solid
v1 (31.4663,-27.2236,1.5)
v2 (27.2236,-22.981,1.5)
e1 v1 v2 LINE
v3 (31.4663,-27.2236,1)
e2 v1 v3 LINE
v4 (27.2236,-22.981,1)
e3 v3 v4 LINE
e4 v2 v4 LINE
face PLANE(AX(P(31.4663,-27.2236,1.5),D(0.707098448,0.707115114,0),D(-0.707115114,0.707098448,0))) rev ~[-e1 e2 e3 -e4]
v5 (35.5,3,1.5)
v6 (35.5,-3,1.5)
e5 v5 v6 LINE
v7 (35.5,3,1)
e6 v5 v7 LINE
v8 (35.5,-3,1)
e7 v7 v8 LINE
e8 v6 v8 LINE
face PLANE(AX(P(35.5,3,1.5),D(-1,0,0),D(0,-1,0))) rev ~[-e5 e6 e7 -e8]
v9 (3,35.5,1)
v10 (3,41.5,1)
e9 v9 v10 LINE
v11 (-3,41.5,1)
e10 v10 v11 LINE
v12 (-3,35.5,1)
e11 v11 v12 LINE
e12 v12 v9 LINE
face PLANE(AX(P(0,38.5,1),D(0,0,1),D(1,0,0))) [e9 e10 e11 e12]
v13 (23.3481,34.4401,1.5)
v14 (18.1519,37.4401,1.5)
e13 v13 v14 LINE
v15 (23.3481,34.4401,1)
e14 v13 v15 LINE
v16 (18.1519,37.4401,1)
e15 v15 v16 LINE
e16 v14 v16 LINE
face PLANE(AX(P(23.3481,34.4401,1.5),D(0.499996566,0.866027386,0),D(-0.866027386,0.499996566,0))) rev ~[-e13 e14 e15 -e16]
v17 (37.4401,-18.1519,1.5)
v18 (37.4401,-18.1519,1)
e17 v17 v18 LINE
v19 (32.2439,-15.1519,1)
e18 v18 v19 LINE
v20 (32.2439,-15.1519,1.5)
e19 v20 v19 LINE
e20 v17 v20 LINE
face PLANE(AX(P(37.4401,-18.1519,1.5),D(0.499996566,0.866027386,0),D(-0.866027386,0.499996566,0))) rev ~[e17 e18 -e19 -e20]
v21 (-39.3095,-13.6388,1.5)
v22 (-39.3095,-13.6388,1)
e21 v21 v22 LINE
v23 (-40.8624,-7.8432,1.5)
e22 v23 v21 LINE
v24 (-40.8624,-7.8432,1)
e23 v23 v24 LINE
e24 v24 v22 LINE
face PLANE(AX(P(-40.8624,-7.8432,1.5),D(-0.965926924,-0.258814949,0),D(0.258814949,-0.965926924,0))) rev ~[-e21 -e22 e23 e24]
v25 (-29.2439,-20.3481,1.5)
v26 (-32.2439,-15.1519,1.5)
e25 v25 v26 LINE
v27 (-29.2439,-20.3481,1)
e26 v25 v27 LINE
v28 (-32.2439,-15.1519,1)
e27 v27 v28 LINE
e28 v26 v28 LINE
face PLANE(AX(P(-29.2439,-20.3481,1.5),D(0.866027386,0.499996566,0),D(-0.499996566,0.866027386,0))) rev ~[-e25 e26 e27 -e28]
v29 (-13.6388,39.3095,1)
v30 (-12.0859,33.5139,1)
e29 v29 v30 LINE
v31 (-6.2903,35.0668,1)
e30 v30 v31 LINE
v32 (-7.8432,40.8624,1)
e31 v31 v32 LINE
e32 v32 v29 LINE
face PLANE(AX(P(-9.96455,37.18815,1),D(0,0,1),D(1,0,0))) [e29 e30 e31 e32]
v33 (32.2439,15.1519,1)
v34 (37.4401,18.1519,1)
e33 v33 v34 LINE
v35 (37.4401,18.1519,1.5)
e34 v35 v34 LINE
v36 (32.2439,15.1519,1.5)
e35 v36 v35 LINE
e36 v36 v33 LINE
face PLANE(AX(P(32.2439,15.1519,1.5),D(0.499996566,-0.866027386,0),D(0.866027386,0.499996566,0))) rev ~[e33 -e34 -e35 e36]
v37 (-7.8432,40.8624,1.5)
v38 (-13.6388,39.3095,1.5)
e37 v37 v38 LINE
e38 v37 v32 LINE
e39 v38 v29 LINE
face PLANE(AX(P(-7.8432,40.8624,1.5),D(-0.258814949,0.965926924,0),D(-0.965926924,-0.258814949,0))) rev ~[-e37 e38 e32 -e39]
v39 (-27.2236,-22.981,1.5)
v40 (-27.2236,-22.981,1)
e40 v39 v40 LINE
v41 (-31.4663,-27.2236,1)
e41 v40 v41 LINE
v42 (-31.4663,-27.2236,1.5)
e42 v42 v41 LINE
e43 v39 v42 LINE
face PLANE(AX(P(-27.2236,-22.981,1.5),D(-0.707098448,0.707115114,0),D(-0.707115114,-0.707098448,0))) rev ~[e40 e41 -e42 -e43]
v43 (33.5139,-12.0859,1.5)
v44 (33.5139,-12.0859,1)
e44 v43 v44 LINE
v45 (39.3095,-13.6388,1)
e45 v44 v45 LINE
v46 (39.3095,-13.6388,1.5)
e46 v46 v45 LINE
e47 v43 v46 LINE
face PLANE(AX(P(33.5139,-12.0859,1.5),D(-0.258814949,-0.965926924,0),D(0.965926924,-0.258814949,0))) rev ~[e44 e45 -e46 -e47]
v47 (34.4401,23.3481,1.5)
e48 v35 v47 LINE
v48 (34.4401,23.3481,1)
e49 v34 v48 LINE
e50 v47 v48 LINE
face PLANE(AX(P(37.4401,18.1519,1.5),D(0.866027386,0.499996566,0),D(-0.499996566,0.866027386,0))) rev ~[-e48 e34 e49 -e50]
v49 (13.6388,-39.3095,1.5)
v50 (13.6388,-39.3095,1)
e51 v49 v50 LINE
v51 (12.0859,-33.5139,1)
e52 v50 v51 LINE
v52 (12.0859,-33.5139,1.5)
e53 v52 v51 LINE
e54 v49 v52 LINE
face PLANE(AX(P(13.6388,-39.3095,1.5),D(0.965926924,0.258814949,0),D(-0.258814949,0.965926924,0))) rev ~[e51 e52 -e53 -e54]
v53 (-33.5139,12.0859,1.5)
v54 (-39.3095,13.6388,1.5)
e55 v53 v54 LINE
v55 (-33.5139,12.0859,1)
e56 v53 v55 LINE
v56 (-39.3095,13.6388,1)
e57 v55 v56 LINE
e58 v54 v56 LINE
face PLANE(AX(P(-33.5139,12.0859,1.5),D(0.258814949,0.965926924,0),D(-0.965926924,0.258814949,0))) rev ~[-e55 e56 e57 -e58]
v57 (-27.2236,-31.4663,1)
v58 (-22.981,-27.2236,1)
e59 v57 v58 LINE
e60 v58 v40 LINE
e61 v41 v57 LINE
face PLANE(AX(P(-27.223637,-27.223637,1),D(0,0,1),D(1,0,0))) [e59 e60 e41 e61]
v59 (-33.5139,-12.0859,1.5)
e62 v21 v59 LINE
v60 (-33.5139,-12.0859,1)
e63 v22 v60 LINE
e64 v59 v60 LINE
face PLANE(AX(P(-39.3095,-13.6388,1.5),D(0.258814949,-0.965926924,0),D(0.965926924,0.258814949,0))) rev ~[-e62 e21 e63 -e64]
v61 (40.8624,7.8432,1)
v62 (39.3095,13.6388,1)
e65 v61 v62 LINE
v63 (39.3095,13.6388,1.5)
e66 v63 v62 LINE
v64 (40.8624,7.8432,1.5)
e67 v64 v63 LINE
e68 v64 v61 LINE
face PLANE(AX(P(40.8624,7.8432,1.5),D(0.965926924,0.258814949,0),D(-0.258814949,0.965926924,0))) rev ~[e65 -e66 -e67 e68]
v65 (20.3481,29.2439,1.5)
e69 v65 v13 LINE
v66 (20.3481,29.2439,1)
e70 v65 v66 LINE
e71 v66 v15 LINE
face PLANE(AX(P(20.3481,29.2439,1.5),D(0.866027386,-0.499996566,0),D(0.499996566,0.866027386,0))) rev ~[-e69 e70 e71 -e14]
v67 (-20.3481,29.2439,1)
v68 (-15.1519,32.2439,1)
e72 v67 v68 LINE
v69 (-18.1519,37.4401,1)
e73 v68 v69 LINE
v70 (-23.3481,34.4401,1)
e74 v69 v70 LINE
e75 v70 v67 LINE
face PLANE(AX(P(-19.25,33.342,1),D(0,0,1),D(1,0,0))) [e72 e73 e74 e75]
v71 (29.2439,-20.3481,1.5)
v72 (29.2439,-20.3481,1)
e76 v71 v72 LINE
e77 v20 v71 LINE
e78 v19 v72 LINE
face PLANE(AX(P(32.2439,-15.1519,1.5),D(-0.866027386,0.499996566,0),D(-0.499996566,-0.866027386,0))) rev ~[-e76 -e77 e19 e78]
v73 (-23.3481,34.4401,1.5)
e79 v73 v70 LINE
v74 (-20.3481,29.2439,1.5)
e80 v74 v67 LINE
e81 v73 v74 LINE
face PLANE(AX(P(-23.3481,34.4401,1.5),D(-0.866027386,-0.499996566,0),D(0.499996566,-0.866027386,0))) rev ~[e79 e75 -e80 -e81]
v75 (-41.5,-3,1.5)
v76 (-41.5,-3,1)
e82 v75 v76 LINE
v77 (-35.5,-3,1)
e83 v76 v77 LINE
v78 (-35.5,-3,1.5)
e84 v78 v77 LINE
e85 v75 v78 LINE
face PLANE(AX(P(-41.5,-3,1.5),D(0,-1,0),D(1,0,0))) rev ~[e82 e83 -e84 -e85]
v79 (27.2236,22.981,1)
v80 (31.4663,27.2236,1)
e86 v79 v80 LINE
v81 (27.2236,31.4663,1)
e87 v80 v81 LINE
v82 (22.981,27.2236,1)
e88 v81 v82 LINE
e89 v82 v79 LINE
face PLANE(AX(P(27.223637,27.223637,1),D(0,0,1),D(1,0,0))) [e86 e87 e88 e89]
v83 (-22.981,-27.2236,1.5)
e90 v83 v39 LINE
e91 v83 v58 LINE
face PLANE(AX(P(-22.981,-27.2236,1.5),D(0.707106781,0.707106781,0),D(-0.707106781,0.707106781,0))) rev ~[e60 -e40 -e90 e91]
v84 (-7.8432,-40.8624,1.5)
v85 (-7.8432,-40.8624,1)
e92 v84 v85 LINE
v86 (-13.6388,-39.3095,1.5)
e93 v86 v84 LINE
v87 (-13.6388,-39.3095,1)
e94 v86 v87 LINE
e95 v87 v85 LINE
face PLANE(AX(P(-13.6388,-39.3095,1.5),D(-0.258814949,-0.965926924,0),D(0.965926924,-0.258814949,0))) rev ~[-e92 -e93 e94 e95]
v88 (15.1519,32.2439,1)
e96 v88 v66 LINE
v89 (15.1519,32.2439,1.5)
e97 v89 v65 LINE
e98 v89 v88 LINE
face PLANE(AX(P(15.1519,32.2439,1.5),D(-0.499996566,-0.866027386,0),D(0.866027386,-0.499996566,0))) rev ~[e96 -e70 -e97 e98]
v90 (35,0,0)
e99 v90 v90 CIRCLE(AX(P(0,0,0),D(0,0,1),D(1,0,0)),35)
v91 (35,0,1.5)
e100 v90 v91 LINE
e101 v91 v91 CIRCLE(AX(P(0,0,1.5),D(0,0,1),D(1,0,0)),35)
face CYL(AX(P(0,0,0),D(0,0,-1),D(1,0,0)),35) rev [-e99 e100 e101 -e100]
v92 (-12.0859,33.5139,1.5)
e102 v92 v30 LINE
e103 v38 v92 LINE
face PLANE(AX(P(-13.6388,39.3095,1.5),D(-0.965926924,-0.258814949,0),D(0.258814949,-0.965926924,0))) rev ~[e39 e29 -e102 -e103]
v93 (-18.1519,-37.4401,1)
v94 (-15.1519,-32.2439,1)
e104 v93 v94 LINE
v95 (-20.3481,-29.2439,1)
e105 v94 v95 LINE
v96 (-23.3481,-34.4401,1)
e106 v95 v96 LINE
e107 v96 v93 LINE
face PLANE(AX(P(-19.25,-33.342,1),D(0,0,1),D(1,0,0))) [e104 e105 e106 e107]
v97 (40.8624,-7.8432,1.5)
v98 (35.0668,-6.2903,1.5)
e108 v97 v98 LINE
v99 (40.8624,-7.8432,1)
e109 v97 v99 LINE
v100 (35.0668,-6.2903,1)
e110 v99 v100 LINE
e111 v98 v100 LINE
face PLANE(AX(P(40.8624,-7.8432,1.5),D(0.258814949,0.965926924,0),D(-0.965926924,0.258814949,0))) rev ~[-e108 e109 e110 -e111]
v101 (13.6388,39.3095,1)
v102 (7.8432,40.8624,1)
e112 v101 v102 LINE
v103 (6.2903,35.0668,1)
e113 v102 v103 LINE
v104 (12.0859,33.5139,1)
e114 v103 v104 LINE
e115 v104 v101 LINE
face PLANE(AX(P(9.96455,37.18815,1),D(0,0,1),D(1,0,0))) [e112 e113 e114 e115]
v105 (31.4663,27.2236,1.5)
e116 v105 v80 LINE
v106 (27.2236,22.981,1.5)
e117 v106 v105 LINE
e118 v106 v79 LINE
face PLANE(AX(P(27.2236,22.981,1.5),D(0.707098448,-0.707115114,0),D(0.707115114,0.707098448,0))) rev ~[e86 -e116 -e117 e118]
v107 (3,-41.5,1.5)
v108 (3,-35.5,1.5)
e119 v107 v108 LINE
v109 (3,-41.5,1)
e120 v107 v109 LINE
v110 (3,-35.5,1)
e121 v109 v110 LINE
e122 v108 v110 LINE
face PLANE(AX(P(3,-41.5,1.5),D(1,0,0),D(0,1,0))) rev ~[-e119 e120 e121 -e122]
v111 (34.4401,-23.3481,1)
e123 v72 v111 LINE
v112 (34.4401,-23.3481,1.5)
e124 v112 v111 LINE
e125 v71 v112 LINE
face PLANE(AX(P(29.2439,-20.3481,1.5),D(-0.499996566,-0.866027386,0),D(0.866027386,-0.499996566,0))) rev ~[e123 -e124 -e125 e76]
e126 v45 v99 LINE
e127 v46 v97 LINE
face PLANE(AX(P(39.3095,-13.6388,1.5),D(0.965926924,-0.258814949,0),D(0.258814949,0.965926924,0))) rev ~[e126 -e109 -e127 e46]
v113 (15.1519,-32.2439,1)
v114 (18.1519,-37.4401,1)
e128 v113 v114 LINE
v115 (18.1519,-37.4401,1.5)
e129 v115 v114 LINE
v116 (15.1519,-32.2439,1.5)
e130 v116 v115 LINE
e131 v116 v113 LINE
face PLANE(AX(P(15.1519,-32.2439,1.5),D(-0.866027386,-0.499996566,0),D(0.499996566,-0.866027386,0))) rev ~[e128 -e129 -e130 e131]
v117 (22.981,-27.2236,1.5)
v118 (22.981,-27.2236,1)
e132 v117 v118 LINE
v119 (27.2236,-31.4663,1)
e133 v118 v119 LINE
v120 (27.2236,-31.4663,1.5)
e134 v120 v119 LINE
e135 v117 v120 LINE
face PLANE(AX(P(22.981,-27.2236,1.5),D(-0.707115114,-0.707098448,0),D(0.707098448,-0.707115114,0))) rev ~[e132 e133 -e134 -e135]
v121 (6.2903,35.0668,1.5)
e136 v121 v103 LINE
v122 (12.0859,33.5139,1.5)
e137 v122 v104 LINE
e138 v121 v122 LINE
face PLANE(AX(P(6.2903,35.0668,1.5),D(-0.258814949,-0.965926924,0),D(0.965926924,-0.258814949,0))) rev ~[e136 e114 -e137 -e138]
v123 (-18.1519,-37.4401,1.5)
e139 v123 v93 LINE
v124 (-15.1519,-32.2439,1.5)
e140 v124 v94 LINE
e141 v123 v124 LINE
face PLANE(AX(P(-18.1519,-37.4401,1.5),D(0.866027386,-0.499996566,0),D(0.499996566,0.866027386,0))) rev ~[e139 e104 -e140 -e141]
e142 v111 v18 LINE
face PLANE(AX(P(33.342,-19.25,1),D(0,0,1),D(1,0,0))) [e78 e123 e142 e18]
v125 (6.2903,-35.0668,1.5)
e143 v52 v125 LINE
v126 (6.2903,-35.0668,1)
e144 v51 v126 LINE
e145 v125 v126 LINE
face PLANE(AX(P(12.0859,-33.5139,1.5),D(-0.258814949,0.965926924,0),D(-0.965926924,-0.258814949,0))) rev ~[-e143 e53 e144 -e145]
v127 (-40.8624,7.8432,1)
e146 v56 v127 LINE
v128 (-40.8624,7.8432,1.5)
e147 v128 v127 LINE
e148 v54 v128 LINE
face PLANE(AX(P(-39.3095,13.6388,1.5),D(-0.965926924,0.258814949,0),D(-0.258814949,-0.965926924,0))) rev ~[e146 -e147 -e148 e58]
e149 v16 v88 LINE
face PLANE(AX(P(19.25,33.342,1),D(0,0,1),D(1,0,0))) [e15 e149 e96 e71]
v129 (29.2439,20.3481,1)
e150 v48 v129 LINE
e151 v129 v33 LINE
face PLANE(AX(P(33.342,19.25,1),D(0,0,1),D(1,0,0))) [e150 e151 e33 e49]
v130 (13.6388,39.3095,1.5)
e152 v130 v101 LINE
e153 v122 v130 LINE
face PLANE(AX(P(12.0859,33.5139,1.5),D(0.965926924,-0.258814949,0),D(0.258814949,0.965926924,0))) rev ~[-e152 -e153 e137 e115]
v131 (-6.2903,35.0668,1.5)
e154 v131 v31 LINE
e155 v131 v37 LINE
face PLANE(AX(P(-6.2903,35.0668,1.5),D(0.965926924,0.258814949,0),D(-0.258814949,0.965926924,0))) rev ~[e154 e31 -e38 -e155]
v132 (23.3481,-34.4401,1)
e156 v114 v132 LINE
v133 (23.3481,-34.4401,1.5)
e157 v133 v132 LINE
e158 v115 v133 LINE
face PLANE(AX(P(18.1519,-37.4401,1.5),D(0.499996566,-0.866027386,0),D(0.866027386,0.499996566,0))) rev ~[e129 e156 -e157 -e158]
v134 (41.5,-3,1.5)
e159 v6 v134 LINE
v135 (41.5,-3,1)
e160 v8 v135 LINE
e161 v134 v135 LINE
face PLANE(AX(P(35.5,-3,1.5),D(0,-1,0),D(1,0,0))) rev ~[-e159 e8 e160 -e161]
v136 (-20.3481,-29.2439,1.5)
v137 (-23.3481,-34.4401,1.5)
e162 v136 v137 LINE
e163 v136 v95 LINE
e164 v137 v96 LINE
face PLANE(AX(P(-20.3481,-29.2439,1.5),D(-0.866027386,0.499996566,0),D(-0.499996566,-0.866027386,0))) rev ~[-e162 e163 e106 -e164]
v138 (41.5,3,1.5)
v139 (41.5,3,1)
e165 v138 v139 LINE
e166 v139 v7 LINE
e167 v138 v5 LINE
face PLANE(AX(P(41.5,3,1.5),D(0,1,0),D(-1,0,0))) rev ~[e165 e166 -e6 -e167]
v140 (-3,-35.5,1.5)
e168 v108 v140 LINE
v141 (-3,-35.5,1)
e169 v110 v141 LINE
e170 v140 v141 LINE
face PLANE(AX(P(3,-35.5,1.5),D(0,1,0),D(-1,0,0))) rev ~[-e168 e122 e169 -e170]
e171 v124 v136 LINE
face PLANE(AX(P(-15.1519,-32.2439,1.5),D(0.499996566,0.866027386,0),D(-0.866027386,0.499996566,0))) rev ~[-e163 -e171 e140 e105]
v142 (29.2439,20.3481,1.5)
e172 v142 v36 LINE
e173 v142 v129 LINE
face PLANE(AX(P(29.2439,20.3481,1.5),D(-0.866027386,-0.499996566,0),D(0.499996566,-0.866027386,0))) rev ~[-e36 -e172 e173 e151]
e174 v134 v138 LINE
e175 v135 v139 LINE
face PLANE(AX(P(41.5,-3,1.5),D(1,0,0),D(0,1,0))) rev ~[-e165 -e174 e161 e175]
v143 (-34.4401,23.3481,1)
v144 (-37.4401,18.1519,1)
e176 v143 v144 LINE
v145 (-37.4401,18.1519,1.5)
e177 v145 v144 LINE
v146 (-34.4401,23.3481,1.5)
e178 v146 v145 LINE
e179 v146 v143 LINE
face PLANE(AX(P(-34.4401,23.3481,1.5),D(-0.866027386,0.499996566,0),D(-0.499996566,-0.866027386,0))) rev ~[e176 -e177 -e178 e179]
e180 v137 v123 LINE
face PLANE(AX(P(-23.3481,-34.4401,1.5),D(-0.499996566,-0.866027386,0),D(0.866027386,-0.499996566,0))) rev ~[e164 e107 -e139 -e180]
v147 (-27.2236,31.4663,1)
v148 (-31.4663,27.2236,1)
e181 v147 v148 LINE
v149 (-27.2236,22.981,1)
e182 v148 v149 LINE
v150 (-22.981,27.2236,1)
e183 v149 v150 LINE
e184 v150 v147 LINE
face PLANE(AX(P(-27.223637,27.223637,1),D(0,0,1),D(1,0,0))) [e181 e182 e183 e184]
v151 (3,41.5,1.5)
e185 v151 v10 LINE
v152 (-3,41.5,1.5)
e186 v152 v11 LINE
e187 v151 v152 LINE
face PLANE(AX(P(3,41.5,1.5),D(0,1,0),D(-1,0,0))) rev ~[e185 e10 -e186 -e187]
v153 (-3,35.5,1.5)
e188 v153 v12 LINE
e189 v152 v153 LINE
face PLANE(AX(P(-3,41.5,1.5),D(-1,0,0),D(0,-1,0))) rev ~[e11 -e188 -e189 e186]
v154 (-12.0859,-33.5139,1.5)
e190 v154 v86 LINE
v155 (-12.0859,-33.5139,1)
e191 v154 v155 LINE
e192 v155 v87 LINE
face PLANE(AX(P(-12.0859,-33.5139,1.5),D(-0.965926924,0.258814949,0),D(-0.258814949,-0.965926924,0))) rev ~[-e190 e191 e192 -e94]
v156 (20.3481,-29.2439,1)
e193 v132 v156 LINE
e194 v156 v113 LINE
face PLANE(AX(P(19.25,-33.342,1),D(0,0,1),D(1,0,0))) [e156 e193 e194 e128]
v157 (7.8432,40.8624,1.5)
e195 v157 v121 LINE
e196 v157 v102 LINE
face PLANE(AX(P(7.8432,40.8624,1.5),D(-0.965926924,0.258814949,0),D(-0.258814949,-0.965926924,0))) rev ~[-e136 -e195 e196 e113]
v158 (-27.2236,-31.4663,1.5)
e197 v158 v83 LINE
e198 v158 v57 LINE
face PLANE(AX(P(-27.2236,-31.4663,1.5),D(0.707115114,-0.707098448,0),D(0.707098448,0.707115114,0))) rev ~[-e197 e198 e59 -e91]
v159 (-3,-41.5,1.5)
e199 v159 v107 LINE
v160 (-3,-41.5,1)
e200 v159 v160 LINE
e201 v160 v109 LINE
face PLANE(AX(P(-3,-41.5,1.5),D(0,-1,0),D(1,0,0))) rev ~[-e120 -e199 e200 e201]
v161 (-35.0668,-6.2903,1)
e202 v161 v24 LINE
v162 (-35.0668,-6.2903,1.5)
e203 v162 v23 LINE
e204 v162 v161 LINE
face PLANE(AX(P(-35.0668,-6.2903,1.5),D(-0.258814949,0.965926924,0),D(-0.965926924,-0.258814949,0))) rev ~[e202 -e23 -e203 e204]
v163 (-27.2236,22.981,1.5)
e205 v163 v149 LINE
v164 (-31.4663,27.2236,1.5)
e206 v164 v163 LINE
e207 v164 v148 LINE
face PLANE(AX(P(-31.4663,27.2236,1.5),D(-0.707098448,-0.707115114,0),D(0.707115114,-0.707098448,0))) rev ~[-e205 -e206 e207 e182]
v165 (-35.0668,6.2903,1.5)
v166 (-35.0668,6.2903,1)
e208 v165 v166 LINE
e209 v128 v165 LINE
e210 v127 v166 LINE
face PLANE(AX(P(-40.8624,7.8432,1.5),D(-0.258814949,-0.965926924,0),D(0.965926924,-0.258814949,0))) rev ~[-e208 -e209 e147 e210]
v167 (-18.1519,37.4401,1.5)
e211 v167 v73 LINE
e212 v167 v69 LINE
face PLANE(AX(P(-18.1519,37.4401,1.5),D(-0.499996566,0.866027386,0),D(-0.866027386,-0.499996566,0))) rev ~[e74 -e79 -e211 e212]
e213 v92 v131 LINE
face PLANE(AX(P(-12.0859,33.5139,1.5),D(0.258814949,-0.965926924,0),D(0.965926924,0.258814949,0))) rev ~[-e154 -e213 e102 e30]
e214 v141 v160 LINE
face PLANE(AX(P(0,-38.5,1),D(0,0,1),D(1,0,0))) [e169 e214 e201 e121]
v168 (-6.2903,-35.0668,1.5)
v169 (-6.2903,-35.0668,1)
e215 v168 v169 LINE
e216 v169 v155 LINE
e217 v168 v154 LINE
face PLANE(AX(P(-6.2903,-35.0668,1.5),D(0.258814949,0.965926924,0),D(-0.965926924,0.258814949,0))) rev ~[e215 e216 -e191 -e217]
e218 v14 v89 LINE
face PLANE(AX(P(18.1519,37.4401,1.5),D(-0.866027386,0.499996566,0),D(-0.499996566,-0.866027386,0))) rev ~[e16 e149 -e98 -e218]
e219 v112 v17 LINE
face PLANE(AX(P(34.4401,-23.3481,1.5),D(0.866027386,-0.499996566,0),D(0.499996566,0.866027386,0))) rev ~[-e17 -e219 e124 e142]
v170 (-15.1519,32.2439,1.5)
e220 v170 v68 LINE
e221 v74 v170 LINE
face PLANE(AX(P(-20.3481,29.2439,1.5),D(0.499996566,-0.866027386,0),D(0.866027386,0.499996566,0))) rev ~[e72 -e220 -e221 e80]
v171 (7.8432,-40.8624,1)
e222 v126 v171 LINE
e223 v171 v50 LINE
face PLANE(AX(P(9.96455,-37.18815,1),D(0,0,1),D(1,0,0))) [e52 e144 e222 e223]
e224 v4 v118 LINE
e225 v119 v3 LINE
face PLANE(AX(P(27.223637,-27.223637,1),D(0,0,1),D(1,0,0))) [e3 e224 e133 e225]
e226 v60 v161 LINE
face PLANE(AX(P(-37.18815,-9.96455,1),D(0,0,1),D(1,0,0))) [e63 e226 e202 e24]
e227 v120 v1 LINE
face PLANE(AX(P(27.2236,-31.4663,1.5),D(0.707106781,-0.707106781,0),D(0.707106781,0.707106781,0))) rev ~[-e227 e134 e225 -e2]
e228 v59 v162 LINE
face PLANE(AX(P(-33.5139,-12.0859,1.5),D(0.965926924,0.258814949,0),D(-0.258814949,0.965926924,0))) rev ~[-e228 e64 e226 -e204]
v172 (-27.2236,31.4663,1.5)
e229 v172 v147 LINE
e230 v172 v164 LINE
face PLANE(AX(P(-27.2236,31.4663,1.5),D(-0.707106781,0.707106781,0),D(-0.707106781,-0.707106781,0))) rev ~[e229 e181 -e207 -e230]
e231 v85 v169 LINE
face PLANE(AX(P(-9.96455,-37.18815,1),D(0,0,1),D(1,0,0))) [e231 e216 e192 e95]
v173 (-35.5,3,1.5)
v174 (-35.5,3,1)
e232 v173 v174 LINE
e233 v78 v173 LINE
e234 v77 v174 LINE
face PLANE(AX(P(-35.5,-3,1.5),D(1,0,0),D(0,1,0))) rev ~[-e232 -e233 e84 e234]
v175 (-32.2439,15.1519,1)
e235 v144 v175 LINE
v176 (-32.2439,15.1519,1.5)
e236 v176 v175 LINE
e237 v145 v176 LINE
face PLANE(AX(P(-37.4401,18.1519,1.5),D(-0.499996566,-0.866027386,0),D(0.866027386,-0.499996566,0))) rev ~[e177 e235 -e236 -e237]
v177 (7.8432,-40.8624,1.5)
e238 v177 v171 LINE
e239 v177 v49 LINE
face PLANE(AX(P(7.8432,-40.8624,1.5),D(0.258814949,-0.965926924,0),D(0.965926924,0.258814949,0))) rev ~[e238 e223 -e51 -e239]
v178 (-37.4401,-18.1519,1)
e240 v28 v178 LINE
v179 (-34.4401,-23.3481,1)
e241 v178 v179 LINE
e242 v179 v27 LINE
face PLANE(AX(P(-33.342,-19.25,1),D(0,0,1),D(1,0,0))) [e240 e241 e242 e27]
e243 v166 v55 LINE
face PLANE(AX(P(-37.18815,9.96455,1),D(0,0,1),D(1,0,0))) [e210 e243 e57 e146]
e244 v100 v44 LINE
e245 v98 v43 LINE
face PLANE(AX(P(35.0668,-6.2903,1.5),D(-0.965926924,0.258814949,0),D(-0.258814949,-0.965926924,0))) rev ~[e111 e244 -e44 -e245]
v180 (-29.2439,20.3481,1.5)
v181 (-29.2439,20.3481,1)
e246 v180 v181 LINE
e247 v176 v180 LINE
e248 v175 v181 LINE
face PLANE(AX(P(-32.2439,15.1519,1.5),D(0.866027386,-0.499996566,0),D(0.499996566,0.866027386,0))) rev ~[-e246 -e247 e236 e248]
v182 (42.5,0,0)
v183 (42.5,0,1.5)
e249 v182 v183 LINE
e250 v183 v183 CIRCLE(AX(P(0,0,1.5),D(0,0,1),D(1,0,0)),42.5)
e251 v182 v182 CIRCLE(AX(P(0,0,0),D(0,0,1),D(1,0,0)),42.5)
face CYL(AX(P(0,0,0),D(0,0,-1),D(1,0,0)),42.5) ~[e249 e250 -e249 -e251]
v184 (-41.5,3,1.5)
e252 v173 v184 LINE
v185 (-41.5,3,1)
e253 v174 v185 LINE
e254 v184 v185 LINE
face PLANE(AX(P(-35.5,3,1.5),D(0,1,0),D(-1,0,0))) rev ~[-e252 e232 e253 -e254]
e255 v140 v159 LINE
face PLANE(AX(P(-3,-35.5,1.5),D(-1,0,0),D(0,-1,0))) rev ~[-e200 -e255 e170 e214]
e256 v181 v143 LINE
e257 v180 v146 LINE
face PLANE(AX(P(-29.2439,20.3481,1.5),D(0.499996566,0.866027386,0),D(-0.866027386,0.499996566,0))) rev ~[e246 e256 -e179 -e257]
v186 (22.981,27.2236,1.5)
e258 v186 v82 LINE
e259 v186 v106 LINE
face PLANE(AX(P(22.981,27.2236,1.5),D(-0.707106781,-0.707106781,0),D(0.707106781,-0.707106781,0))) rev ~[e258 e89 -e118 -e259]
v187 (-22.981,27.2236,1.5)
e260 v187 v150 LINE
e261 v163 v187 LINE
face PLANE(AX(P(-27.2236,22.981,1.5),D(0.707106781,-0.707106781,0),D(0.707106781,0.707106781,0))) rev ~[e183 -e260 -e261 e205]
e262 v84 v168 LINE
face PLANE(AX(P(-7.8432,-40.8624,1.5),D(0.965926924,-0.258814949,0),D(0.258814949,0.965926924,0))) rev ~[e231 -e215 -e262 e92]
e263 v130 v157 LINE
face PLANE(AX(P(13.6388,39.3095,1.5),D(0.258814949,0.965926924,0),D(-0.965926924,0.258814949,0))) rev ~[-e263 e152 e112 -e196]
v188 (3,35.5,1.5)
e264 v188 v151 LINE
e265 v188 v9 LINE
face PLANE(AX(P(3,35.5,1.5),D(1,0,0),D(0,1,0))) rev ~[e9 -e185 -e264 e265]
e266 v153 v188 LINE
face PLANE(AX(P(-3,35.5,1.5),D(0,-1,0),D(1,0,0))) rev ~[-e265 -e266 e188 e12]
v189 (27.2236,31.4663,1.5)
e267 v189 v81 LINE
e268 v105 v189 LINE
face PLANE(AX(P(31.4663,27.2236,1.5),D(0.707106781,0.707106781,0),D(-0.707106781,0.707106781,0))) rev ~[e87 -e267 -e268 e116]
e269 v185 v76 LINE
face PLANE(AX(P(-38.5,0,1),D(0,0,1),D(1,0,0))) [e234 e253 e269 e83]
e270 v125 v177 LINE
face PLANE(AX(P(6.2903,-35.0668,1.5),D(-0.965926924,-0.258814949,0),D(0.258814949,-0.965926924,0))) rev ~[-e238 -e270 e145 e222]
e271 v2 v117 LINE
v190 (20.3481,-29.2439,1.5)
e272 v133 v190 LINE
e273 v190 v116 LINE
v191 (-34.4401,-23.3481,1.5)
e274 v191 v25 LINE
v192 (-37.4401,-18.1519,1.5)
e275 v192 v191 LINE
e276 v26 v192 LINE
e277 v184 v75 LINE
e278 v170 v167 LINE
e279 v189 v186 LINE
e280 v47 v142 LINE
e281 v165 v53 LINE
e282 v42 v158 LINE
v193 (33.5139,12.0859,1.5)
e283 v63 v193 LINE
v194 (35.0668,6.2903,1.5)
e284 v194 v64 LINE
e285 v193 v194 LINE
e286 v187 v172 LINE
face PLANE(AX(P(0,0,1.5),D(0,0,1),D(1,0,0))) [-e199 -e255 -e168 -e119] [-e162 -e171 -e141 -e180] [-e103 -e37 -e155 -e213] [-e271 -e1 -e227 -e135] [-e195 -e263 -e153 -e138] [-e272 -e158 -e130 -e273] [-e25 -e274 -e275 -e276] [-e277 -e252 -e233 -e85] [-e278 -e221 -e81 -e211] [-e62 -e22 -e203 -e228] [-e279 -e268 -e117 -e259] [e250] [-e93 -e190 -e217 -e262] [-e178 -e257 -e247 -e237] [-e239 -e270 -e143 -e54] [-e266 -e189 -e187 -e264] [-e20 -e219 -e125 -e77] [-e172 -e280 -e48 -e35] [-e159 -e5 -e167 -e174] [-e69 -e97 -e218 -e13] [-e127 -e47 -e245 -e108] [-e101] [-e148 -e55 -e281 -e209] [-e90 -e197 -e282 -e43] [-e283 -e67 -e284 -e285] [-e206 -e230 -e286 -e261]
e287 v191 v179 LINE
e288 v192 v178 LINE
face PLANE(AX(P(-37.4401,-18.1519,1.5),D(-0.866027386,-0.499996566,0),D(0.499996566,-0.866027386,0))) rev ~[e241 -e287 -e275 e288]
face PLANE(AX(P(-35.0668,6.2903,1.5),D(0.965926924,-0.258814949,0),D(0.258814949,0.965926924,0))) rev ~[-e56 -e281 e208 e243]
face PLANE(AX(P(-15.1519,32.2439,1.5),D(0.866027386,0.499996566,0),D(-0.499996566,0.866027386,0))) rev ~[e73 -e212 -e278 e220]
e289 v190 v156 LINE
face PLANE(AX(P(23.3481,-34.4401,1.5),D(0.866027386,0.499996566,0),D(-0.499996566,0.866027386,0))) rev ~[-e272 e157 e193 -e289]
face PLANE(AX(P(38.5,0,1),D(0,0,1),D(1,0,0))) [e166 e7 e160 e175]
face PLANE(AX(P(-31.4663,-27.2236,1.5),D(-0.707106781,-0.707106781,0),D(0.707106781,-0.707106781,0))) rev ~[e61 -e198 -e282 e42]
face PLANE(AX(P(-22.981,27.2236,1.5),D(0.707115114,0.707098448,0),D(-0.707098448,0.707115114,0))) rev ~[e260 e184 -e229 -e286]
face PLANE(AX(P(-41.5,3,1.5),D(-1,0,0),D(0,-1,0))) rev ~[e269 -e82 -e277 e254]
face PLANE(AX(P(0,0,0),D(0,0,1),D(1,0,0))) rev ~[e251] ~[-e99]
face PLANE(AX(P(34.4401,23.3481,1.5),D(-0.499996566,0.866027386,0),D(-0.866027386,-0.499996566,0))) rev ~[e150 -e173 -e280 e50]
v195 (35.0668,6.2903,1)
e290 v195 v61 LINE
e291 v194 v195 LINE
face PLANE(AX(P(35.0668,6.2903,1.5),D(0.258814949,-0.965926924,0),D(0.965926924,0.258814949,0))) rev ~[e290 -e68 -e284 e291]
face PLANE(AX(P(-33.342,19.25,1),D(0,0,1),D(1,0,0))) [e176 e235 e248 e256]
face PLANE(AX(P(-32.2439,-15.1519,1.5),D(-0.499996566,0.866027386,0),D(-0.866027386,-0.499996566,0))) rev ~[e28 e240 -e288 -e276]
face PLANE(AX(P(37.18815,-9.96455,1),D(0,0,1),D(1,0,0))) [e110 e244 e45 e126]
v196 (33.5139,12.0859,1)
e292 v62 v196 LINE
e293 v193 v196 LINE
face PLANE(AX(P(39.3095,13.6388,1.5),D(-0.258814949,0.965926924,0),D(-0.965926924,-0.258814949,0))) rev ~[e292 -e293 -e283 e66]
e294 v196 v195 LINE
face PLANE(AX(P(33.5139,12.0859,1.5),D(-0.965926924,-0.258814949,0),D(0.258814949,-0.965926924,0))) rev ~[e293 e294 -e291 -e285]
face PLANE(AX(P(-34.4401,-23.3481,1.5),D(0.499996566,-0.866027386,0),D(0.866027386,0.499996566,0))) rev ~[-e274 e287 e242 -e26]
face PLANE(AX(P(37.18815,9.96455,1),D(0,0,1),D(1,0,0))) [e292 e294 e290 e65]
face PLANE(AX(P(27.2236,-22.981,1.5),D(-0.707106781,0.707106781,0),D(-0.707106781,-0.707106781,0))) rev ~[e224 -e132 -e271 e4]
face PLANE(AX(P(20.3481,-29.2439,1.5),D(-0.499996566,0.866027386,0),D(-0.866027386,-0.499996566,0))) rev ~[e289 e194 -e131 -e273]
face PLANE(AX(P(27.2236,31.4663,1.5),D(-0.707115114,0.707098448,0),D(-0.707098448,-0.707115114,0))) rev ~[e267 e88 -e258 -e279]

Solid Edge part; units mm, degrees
sketch "Sketch1" plane through (0, 0, 0) normal (0, 0, 1) x (1, 0, 0)
  circle A0 centre (0, 0) radius 42.5
  circle A1 centre (0, 0) radius 35
extrude "Protrusion1" add sketch "Sketch1" along normal blind 1.5
sketch "Sketch2" plane through (0, 0, 1.5) normal (0, 0, 1) x (1, 0, 0)
  line L0 (-33.5139, 12.0859) -> (-39.3095, 13.6388)
  line L1 (-39.3095, 13.6388) -> (-40.8624, 7.8432)
  line L2 (-40.8624, 7.8432) -> (-35.0668, 6.2903)
  line L3 (-35.0668, 6.2903) -> (-33.5139, 12.0859)
  line L4 (-37.4401, 18.1519) -> (-32.2439, 15.1519)
  line L5 (-32.2439, 15.1519) -> (-29.2439, 20.3481)
  line L6 (-29.2439, 20.3481) -> (-34.4401, 23.3481)
  line L7 (-34.4401, 23.3481) -> (-37.4401, 18.1519)
  line L8 (-27.2236, 22.981) -> (-22.981, 27.2236)
  line L9 (-22.981, 27.2236) -> (-27.2236, 31.4663)
  line L10 (-27.2236, 31.4663) -> (-31.4663, 27.2236)
  line L11 (-31.4663, 27.2236) -> (-27.2236, 22.981)
  line L12 (-23.3481, 34.4401) -> (-20.3481, 29.2439)
  line L13 (-20.3481, 29.2439) -> (-15.1519, 32.2439)
  line L14 (-15.1519, 32.2439) -> (-18.1519, 37.4401)
  line L15 (-18.1519, 37.4401) -> (-23.3481, 34.4401)
  line L16 (-12.0859, 33.5139) -> (-6.2903, 35.0668)
  line L17 (-6.2903, 35.0668) -> (-7.8432, 40.8624)
  line L18 (-7.8432, 40.8624) -> (-13.6388, 39.3095)
  line L19 (-13.6388, 39.3095) -> (-12.0859, 33.5139)
  line L20 (-3, 41.5) -> (-3, 35.5)
  line L21 (-3, 35.5) -> (3, 35.5)
  line L22 (3, 35.5) -> (3, 41.5)
  line L23 (3, 41.5) -> (-3, 41.5)
  line L24 (7.8432, 40.8624) -> (6.2903, 35.0668)
  line L25 (6.2903, 35.0668) -> (12.0859, 33.5139)
  line L26 (12.0859, 33.5139) -> (13.6388, 39.3095)
  line L27 (13.6388, 39.3095) -> (7.8432, 40.8624)
  line L28 (15.1519, 32.2439) -> (20.3481, 29.2439)
  line L29 (20.3481, 29.2439) -> (23.3481, 34.4401)
  line L30 (23.3481, 34.4401) -> (18.1519, 37.4401)
  line L31 (18.1519, 37.4401) -> (15.1519, 32.2439)
  line L32 (27.2236, 31.4663) -> (22.981, 27.2236)
  line L33 (22.981, 27.2236) -> (27.2236, 22.981)
  line L34 (27.2236, 22.981) -> (31.4663, 27.2236)
  line L35 (31.4663, 27.2236) -> (27.2236, 31.4663)
  line L36 (29.2439, 20.3481) -> (32.2439, 15.1519)
  line L37 (32.2439, 15.1519) -> (37.4401, 18.1519)
  line L38 (37.4401, 18.1519) -> (34.4401, 23.3481)
  line L39 (34.4401, 23.3481) -> (29.2439, 20.3481)
  line L40 (39.3095, 13.6388) -> (33.5139, 12.0859)
  line L41 (33.5139, 12.0859) -> (35.0668, 6.2903)
  line L42 (35.0668, 6.2903) -> (40.8624, 7.8432)
  line L43 (40.8624, 7.8432) -> (39.3095, 13.6388)
  line L44 (41.5, 3) -> (35.5, 3)
  line L45 (35.5, 3) -> (35.5, -3)
  line L46 (35.5, -3) -> (41.5, -3)
  line L47 (41.5, -3) -> (41.5, 3)
  line L48 (40.8624, -7.8432) -> (35.0668, -6.2903)
  line L49 (35.0668, -6.2903) -> (33.5139, -12.0859)
  line L50 (33.5139, -12.0859) -> (39.3095, -13.6388)
  line L51 (39.3095, -13.6388) -> (40.8624, -7.8432)
  line L52 (37.4401, -18.1519) -> (32.2439, -15.1519)
  line L53 (32.2439, -15.1519) -> (29.2439, -20.3481)
  line L54 (29.2439, -20.3481) -> (34.4401, -23.3481)
  line L55 (34.4401, -23.3481) -> (37.4401, -18.1519)
  line L56 (31.4663, -27.2236) -> (27.2236, -22.981)
  line L57 (27.2236, -22.981) -> (22.981, -27.2236)
  line L58 (22.981, -27.2236) -> (27.2236, -31.4663)
  line L59 (27.2236, -31.4663) -> (31.4663, -27.2236)
  line L60 (23.3481, -34.4401) -> (20.3481, -29.2439)
  line L61 (20.3481, -29.2439) -> (15.1519, -32.2439)
  line L62 (15.1519, -32.2439) -> (18.1519, -37.4401)
  line L63 (18.1519, -37.4401) -> (23.3481, -34.4401)
  line L64 (13.6388, -39.3095) -> (12.0859, -33.5139)
  line L65 (12.0859, -33.5139) -> (6.2903, -35.0668)
  line L66 (6.2903, -35.0668) -> (7.8432, -40.8624)
  line L67 (7.8432, -40.8624) -> (13.6388, -39.3095)
  line L68 (3, -41.5) -> (3, -35.5)
  line L69 (3, -35.5) -> (-3, -35.5)
  line L70 (-3, -35.5) -> (-3, -41.5)
  line L71 (-3, -41.5) -> (3, -41.5)
  line L72 (-7.8432, -40.8624) -> (-6.2903, -35.0668)
  line L73 (-6.2903, -35.0668) -> (-12.0859, -33.5139)
  line L74 (-12.0859, -33.5139) -> (-13.6388, -39.3095)
  line L75 (-13.6388, -39.3095) -> (-7.8432, -40.8624)
  line L76 (-18.1519, -37.4401) -> (-15.1519, -32.2439)
  line L77 (-15.1519, -32.2439) -> (-20.3481, -29.2439)
  line L78 (-20.3481, -29.2439) -> (-23.3481, -34.4401)
  line L79 (-23.3481, -34.4401) -> (-18.1519, -37.4401)
  line L80 (-27.2236, -31.4663) -> (-22.981, -27.2236)
  line L81 (-22.981, -27.2236) -> (-27.2236, -22.981)
  line L82 (-27.2236, -22.981) -> (-31.4663, -27.2236)
  line L83 (-31.4663, -27.2236) -> (-27.2236, -31.4663)
  line L84 (-34.4401, -23.3481) -> (-29.2439, -20.3481)
  line L85 (-29.2439, -20.3481) -> (-32.2439, -15.1519)
  line L86 (-32.2439, -15.1519) -> (-37.4401, -18.1519)
  line L87 (-37.4401, -18.1519) -> (-34.4401, -23.3481)
  line L88 (-39.3095, -13.6388) -> (-33.5139, -12.0859)
  line L89 (-33.5139, -12.0859) -> (-35.0668, -6.2903)
  line L90 (-35.0668, -6.2903) -> (-40.8624, -7.8432)
  line L91 (-40.8624, -7.8432) -> (-39.3095, -13.6388)
  line L92 (-41.5, -3) -> (-35.5, -3)
  line L93 (-35.5, -3) -> (-35.5, 3)
  line L94 (-35.5, 3) -> (-41.5, 3)
  line L95 (-41.5, 3) -> (-41.5, -3)
  dimension "D1" = 6
  dimension "D2" = 6
  dimension "D3" = 35.5
extrude "ExtrudedCutout_2" cut sketch "Sketch2" against normal blind 0.5
properties material "ABS Plastic, medium impact"
